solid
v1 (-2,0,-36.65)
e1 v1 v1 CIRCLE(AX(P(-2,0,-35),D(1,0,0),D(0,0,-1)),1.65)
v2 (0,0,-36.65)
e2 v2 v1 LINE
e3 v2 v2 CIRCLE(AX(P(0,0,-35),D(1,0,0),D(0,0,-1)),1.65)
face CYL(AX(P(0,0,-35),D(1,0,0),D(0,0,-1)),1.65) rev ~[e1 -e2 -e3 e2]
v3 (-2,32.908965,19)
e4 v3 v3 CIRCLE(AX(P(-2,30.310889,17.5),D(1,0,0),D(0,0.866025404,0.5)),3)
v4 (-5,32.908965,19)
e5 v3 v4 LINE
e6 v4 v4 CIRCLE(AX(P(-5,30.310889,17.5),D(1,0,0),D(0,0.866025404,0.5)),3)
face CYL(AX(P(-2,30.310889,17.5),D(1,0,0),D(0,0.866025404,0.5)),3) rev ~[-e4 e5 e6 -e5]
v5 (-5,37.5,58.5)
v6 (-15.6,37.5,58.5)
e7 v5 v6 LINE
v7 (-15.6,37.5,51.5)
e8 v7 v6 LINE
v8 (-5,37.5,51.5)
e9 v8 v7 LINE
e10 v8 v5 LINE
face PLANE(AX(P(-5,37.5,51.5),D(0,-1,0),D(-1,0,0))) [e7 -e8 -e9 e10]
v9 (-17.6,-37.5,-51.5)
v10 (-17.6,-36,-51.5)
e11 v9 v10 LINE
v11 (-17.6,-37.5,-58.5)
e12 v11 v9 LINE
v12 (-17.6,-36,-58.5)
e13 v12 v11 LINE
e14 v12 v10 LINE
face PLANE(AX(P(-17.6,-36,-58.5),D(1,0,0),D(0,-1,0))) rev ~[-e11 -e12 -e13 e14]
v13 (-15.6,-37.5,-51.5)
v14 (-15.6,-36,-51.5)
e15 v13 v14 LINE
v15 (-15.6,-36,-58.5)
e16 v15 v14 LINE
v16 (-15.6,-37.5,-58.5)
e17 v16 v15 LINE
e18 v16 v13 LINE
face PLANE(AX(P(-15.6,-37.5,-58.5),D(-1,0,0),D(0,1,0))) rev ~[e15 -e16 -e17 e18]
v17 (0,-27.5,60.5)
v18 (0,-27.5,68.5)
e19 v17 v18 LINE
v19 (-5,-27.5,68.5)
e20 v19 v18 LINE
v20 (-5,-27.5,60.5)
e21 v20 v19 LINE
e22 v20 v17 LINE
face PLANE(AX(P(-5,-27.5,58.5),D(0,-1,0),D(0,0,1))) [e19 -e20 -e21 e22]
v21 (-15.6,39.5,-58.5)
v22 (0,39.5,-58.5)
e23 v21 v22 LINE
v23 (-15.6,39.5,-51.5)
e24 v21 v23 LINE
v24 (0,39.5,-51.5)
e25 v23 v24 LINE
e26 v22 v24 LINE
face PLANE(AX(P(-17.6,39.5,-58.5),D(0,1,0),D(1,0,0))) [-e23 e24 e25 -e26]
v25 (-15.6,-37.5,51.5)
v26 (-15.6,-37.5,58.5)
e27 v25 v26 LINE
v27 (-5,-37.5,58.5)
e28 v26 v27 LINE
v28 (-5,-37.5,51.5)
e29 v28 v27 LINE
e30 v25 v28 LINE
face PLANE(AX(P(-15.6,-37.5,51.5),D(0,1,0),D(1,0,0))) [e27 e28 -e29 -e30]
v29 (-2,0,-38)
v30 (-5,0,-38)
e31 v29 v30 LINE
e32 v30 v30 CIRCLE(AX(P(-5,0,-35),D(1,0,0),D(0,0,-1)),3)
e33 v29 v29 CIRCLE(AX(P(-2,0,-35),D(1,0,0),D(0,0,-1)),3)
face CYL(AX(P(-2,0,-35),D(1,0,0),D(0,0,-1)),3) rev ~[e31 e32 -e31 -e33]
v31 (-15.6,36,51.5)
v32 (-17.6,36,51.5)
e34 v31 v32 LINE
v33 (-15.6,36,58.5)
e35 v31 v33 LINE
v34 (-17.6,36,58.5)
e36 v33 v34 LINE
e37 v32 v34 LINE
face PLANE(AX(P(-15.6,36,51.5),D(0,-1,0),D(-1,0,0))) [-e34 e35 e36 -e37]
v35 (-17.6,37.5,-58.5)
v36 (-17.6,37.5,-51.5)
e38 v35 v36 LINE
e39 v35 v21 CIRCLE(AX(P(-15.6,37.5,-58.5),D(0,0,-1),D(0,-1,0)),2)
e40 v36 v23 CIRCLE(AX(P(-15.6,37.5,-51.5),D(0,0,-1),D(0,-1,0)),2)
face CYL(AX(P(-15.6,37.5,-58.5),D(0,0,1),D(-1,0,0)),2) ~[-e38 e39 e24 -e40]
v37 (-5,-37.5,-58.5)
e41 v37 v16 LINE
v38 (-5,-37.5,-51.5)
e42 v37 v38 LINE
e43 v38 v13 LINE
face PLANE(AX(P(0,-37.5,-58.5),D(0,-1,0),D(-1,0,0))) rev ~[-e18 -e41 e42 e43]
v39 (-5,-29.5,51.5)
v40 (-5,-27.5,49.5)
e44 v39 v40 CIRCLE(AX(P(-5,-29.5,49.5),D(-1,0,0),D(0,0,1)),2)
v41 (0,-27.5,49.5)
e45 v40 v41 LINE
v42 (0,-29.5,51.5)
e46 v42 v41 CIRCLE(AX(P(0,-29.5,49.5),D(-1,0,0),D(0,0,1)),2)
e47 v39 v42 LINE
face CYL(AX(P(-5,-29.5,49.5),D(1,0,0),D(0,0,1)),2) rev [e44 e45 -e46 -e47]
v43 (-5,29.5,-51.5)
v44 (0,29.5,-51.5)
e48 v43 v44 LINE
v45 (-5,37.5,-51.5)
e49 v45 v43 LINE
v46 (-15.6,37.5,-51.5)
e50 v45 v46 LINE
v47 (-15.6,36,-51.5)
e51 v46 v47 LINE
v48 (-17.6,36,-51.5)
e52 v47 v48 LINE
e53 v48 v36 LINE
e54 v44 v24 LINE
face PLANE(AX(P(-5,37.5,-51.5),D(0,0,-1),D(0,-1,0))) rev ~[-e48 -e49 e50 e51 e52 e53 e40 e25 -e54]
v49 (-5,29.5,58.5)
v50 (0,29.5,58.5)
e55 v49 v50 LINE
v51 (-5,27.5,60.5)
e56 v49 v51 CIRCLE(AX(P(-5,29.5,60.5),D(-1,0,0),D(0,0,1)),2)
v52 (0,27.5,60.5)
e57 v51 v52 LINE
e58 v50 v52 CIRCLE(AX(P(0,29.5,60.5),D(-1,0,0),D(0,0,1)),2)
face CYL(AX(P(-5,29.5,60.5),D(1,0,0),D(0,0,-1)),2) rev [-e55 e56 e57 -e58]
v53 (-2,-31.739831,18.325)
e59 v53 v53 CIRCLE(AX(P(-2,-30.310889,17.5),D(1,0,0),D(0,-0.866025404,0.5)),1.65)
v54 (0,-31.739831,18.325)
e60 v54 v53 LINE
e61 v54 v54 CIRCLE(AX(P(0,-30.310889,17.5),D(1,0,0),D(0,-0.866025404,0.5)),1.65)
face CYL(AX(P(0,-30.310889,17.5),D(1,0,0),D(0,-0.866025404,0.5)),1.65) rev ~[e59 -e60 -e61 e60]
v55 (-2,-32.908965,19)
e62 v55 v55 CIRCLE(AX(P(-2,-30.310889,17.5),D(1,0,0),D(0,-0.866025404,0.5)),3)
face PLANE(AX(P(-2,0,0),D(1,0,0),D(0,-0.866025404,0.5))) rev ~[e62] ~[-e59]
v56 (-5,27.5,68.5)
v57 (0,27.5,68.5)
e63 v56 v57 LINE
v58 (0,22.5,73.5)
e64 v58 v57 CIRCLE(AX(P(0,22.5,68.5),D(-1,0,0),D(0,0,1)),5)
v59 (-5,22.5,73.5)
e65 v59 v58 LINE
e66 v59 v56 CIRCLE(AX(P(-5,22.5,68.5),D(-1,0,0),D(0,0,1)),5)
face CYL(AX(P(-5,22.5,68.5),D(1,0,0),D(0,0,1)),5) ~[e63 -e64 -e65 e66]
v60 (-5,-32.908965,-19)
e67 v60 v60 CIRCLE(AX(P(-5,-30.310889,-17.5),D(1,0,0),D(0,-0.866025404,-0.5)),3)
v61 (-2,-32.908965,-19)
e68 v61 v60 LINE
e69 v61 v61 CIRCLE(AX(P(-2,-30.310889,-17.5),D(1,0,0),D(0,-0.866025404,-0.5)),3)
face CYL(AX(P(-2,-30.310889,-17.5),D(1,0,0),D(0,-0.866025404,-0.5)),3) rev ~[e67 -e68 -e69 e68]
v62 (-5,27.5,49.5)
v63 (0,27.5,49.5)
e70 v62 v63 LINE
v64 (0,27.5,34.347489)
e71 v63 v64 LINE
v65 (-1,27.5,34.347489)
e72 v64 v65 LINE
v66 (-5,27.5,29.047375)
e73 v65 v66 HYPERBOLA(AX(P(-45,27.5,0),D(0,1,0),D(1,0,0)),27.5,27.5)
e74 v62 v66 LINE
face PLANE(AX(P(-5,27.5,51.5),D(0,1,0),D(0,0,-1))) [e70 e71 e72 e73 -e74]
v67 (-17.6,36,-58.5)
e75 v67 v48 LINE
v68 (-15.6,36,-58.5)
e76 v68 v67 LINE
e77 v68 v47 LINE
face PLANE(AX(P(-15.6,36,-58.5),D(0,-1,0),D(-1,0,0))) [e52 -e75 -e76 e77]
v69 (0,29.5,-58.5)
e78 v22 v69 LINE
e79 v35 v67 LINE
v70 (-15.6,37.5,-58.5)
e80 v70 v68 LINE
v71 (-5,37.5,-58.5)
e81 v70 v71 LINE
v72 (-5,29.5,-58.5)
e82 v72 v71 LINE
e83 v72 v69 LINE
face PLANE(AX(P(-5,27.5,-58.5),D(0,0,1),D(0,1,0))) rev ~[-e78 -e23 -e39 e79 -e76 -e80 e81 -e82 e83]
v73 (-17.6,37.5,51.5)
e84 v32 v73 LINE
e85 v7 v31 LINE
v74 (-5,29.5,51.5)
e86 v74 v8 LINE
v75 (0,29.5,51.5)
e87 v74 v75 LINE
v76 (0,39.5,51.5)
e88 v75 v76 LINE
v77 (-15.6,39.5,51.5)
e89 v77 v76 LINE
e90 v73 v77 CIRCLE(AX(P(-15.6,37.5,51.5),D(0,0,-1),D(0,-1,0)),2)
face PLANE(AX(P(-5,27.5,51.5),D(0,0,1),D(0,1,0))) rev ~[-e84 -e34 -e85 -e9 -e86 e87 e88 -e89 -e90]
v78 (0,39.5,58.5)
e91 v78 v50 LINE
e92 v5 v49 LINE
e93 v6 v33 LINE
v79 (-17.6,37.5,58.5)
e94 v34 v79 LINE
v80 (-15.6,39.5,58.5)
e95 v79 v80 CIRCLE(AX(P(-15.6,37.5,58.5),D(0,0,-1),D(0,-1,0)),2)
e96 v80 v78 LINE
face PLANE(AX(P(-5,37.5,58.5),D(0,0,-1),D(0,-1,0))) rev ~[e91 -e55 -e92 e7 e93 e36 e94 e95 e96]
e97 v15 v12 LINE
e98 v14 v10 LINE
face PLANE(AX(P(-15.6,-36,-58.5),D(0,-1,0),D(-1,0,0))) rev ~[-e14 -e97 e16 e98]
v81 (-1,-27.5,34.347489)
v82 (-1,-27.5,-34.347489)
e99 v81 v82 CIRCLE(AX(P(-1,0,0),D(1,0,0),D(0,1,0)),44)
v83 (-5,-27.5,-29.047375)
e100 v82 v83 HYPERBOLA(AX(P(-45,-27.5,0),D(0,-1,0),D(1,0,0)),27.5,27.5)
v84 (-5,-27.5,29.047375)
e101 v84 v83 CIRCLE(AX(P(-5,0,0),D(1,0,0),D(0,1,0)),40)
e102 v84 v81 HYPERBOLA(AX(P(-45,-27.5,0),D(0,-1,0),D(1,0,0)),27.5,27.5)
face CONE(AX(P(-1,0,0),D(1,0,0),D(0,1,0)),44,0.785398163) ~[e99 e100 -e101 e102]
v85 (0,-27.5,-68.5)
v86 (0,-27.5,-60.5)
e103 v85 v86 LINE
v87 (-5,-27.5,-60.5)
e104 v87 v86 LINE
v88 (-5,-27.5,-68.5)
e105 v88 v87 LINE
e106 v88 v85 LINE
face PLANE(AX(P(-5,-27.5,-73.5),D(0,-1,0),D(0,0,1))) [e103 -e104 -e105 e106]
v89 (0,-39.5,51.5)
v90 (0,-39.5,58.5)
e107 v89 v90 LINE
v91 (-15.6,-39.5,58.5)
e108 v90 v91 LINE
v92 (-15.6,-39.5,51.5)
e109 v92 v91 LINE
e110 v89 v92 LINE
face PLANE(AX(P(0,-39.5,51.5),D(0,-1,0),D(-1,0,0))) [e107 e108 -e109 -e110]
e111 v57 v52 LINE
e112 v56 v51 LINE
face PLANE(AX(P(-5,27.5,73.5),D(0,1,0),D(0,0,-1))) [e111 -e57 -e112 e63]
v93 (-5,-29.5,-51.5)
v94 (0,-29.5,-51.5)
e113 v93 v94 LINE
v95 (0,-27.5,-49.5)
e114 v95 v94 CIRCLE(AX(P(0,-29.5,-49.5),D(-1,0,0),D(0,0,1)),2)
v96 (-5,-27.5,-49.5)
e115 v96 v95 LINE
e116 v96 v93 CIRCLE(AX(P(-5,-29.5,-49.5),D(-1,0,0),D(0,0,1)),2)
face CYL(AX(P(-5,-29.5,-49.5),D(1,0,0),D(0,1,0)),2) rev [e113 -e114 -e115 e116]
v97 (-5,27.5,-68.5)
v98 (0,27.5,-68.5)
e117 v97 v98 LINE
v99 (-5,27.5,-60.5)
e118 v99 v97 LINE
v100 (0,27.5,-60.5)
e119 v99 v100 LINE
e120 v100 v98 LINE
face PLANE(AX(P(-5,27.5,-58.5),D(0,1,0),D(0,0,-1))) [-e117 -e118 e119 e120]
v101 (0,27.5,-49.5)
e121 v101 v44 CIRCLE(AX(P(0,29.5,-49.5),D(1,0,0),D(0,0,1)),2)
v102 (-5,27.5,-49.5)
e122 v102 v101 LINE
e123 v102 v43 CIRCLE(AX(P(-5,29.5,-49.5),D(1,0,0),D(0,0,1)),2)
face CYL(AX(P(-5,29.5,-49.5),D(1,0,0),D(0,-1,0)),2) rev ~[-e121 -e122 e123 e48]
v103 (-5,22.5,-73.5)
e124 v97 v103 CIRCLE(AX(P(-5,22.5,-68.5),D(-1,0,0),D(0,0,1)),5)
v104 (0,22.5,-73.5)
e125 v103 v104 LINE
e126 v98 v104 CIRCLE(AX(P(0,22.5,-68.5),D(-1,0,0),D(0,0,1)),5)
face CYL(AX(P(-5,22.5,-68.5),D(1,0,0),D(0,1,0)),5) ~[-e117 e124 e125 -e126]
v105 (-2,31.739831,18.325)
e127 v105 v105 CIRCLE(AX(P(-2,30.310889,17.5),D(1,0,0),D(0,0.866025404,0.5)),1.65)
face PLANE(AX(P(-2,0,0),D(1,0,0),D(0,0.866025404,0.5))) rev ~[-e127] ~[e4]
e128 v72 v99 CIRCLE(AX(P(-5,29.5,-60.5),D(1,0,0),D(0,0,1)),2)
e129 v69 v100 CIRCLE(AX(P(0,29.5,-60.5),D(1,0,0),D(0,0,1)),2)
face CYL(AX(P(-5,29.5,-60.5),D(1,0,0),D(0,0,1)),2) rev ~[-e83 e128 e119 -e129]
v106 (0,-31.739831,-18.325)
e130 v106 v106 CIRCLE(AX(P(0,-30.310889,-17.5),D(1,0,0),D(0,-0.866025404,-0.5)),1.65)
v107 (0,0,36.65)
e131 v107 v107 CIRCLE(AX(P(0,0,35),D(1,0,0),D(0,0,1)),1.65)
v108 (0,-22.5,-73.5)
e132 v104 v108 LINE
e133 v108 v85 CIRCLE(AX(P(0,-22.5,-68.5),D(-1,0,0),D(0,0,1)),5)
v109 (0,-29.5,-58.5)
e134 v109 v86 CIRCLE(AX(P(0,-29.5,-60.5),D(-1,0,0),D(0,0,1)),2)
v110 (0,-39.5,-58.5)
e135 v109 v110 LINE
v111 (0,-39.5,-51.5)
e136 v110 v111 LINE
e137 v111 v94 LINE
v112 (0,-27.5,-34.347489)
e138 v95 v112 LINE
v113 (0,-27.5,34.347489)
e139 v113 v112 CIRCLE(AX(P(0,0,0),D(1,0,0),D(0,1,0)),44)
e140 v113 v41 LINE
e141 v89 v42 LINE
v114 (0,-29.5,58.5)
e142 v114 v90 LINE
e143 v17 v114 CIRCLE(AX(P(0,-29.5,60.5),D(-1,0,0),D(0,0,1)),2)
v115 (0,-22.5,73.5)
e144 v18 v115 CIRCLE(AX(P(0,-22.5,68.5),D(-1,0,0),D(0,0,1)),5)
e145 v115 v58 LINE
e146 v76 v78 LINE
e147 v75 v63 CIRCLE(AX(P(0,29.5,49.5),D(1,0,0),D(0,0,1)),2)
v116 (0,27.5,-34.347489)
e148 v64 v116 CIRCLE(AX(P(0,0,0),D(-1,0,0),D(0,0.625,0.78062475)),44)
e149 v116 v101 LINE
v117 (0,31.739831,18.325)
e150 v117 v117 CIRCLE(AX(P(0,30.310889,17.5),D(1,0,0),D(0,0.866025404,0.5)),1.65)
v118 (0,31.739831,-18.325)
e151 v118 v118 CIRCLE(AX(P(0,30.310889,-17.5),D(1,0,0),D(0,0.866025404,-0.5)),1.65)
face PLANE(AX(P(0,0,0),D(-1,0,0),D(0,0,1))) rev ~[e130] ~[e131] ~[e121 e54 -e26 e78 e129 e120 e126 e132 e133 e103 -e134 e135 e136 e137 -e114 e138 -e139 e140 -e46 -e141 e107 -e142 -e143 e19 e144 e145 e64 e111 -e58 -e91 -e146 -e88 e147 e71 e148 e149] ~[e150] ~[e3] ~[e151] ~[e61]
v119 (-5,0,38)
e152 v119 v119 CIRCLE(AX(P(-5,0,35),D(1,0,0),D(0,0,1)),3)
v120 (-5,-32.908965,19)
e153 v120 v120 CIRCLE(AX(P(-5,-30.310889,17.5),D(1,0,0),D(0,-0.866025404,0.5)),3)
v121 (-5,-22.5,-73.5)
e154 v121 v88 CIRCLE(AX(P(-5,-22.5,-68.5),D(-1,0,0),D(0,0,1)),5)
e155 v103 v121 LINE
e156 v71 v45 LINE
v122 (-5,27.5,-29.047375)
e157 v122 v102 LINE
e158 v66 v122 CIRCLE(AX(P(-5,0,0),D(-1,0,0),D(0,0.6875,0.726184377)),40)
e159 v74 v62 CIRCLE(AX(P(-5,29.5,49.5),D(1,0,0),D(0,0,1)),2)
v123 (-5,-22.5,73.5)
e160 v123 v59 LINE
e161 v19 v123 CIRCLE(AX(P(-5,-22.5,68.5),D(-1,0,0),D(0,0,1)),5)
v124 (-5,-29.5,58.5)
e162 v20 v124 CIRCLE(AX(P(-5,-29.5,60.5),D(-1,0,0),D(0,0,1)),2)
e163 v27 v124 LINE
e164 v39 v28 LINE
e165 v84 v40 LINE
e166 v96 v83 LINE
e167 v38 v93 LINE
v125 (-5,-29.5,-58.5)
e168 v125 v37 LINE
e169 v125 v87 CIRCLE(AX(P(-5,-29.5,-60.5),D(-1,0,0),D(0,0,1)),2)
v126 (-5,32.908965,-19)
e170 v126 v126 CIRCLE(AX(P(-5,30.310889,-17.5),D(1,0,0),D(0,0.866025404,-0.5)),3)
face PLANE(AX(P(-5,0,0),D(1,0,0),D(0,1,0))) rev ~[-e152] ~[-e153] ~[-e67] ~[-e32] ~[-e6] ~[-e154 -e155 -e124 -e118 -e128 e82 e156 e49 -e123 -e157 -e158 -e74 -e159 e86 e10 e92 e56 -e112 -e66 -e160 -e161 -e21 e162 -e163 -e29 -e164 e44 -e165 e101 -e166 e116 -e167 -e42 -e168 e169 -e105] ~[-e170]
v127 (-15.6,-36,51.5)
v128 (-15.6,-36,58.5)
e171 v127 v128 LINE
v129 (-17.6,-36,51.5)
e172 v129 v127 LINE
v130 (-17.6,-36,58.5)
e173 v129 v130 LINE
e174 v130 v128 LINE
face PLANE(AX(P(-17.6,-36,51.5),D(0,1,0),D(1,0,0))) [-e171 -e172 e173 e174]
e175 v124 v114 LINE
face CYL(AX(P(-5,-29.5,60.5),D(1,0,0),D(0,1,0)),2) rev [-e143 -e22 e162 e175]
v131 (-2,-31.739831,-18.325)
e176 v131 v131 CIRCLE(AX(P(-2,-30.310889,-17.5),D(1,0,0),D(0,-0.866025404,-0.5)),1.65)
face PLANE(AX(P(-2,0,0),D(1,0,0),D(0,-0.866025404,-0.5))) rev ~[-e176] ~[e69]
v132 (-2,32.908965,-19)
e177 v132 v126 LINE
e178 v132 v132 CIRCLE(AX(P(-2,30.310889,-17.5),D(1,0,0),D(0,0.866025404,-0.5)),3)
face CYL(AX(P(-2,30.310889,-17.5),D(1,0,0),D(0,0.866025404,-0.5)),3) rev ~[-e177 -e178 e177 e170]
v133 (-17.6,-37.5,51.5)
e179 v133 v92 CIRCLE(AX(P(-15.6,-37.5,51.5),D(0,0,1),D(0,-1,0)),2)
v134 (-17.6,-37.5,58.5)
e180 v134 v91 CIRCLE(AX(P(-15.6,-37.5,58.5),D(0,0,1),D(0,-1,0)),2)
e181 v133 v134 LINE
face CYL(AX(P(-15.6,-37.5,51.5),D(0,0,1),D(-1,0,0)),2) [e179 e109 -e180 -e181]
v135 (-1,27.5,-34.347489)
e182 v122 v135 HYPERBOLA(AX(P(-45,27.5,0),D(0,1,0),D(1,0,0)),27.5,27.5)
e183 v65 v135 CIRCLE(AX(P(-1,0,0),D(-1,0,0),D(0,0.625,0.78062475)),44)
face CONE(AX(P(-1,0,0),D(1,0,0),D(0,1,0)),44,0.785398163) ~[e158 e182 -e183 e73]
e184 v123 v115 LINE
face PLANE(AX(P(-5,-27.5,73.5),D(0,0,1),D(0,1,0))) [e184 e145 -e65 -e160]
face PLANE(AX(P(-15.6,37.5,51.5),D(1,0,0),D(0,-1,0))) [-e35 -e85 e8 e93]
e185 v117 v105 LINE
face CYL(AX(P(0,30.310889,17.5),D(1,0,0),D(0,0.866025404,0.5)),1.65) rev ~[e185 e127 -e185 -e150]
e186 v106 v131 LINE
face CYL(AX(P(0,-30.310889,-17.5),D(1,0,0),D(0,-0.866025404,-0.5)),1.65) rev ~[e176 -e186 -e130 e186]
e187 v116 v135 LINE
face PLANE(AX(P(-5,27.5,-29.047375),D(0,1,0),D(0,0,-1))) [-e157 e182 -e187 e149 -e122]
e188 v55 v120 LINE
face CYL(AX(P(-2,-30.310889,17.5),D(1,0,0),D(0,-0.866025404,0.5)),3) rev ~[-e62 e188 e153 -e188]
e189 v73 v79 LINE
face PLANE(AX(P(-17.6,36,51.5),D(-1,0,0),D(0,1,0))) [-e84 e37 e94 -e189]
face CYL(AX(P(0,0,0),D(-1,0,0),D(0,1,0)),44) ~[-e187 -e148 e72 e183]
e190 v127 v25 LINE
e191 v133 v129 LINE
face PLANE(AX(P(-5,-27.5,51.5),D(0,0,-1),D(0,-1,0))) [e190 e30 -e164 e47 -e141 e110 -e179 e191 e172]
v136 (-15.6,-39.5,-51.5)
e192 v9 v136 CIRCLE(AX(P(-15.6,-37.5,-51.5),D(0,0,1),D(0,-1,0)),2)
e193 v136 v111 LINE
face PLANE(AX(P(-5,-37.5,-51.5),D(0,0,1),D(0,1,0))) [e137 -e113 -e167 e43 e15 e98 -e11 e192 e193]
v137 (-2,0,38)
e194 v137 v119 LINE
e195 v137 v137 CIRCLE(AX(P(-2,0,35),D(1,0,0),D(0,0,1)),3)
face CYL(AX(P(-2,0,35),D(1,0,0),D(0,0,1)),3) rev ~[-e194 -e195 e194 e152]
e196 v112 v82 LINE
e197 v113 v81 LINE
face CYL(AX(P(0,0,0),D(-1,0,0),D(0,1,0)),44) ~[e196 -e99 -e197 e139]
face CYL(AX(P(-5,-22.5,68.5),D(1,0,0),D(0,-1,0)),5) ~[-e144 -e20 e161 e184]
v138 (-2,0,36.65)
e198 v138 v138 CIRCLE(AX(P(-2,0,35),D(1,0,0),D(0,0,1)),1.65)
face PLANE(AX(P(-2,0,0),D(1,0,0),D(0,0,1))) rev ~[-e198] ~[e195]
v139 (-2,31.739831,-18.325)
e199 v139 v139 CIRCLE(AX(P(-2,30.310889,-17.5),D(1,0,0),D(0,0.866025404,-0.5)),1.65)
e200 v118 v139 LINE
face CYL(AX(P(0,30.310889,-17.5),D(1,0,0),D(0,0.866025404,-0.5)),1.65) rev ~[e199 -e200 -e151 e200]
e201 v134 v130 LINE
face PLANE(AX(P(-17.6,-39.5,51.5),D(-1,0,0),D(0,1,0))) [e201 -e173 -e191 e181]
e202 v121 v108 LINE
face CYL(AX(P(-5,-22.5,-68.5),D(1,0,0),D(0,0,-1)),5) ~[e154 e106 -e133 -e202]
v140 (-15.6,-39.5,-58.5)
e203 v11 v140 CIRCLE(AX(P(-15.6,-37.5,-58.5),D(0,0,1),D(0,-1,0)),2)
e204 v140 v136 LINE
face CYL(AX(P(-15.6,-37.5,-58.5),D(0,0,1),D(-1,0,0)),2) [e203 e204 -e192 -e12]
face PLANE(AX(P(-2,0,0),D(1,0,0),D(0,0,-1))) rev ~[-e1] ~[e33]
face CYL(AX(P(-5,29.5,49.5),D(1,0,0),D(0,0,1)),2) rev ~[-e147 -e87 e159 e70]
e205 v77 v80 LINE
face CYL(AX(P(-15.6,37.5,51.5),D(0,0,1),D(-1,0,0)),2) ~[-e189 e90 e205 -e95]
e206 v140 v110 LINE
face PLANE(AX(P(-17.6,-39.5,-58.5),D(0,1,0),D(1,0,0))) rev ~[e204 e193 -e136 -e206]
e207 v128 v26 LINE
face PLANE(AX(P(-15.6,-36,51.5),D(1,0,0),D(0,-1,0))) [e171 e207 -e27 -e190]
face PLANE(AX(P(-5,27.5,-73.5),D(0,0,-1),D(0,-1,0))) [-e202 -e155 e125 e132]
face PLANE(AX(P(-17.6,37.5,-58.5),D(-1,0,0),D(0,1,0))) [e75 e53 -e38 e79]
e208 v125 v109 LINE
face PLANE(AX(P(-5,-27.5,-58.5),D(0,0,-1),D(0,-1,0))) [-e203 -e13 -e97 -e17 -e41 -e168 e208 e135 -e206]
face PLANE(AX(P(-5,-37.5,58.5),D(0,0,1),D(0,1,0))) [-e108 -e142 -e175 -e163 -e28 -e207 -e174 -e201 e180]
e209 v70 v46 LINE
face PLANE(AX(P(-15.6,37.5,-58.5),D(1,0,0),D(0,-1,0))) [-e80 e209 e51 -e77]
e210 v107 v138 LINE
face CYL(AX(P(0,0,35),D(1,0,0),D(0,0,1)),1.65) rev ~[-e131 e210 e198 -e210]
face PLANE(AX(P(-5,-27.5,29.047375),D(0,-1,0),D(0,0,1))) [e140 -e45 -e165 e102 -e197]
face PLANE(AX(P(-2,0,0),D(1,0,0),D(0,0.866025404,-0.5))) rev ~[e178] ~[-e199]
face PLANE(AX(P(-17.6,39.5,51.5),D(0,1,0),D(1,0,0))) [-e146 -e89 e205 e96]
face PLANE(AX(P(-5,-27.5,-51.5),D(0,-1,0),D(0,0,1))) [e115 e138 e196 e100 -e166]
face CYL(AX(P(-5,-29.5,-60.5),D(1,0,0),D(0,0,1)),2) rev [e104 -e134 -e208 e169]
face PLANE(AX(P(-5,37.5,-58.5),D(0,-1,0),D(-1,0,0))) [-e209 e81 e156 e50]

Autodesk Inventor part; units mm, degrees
ref_plane "YZ Plane" through (0, 0, 0) normal (1, 0, 0) x (0, 1, 0)
ref_plane "XZ Plane" through (0, 0, 0) normal (0, 1, 0) x (-1, 0, 0)
sketch "Sketch1" plane through (0, 0, 0) normal (0, 0, 1) x (1, 0, 0)
  line L0 (0, 0) -> (0, 44)
  line L1 (-5, 0) -> (0, 0)
  line L2 (0, 44) -> (-1, 44)
  line L3 (-1, 44) -> (-5, 40)
  line L4 (-5, 40) -> (-5, 0)
  dimension "d0" = 44
  dimension "d3" = 1
  dimension "d19" = 5
  dimension "d20" = 45
revolve "Revolution1" add sketch "Sketch1" angle 360 about axis through (-5, 0, 0) along (1, 0, 0)
sketch "Sketch2" plane through (0, 0, 0) normal (1, 0, 0) x (0, 0, -1)
  line L0 (0, 0) -> (35, 0) construction
  circle A0 centre (35, 0) radius 1.65
  dimension "d7" = 3.3
  dimension "d8" = 35
extrude "Extrusion1" cut sketch "Sketch2" against normal through all
ref_plane "Work Plane1" through (-2, 0, 0) normal (1, 0, 0) x (0, 0, -1)
sketch "Sketch3" plane through (-2, 0, 0) normal (1, 0, 0) x (0, 0, -1)
  circle A0 centre (35, 0) radius 3
  circle A1 centre (35, 0) radius 1.65 projected
  point P0 (0, 0)
  dimension "d12" = 6
extrude "Extrusion2" cut sketch "Sketch3" against normal through all contours A0 | A1
pattern_circular "Circular Pattern1" count 6 over 360 about axis through (-0.5, 0, 0) along (1, 0, 0) of "Extrusion2", "Extrusion1"
sketch "Sketch4" plane through (-5, 0, 0) normal (-1, 0, 0) x (0, 0, 1)
  line L0 (73.5, 27.5) -> (-73.5, 27.5)
  line L1 (-73.5, 27.5) -> (-73.5, -27.5)
  line L2 (-73.5, -27.5) -> (73.5, -27.5)
  line L3 (73.5, -27.5) -> (73.5, 27.5)
  line L4 (73.5, 27.5) -> (-73.5, -27.5) construction
  line L5 (-73.5, 27.5) -> (73.5, -27.5) construction
  line L6 (58.5, -27.5) -> (51.5, -27.5)
  line L7 (51.5, -27.5) -> (51.5, -37.5)
  line L8 (51.5, -37.5) -> (58.5, -37.5)
  line L9 (58.5, -37.5) -> (58.5, -27.5)
  line L10 (-51.5, -27.5) -> (-58.5, -27.5)
  line L11 (-58.5, -27.5) -> (-58.5, -37.5)
  line L12 (-58.5, -37.5) -> (-51.5, -37.5)
  line L13 (-51.5, -37.5) -> (-51.5, -27.5)
  line L14 (-51.5, 27.5) -> (-58.5, 27.5)
  line L15 (-58.5, 27.5) -> (-58.5, 37.5)
  line L16 (-58.5, 37.5) -> (-51.5, 37.5)
  line L17 (-51.5, 37.5) -> (-51.5, 27.5)
  line L18 (58.5, 27.5) -> (51.5, 27.5)
  line L19 (51.5, 27.5) -> (51.5, 37.5)
  line L20 (51.5, 37.5) -> (58.5, 37.5)
  line L21 (58.5, 37.5) -> (58.5, 27.5)
  circle A0 centre (0, 0) radius 40 projected
  point P0 (-29.0474, -27.5)
  point P1 (-29.0474, 27.5)
  point P2 (29.0474, 27.5)
  point P3 (29.0474, -27.5)
  dimension "d21" = 147
  dimension "d22" = 55
  dimension "d23" = 15
  dimension "d24" = 7
  dimension "d26" = 15
  dimension "d29" = 75
extrude "Extrusion3" add sketch "Sketch4" against normal up to surface (5 mm away) contours L3 L2 A0 L0 | L0 L19 L20 L21 | L9 L8 L7 L2 | A0 L2 L1 L0 | L0 L15 L16 L17 | L13 L12 L11 L2
sketch "Sketch5" plane through (-5, 27.5, -58.5) normal (0, 0, -1) x (-1, 0, 0)
  line L0 (-5, -65) -> (10.6, -65)
  line L1 (12.6, -65) -> (12.6, -67)
  line L2 (12.6, -67) -> (-5, -67)
  line L3 (-5, -67) -> (-5, -65)
  line L4 (-5, 10) -> (10.6, 10)
  line L5 (12.6, 10) -> (12.6, 12)
  line L6 (12.6, 12) -> (-5, 12)
  line L7 (-5, 12) -> (-5, 10)
  line L8 (10.6, 10) -> (10.6, 8.5)
  line L9 (10.6, 8.5) -> (12.6, 8.5)
  line L10 (12.6, 8.5) -> (12.6, 10)
  line L11 (10.6, -65) -> (10.6, -63.5)
  line L12 (10.6, -63.5) -> (12.6, -63.5)
  line L13 (12.6, -63.5) -> (12.6, -65)
  line L14 (0, 10) -> (0, 0) projected
  point P0 (-5, -27.5)
  dimension "d30" = 2
  dimension "d31" = 10.6
  dimension "d32" = 2
  dimension "d33" = 1.5
extrude "Extrusion4" add sketch "Sketch5" against normal up to surface (7 mm away)
sketch "Sketch6" plane through (-5, -37.5, 51.5) normal (0, 0, -1) x (-1, 0, 0)
  line L0 (-5, 77) -> (-5, 65) projected
  line L1 (0, 65) -> (-5, 65) projected
  line L2 (0, 75) -> (0, 65) projected
  line L3 (0, 75) -> (10.6, 75) projected
  line L4 (10.6, 75) -> (10.6, 73.5) projected
  line L5 (10.6, 73.5) -> (12.6, 73.5) projected
  line L6 (12.6, 73.5) -> (12.6, 77) projected
  line L7 (12.6, 77) -> (-5, 77) projected
  line L8 (-5, 10) -> (-5, -2) projected
  line L9 (-5, -2) -> (12.6, -2) projected
  line L10 (12.6, -2) -> (12.6, 1.5) projected
  line L11 (12.6, 1.5) -> (10.6, 1.5) projected
  line L12 (10.6, 1.5) -> (10.6, 0) projected
  line L13 (10.6, 0) -> (0, 0) projected
  line L14 (0, 10) -> (0, 0) projected
  line L15 (0, 10) -> (-5, 10) projected
  point P0 (-5, 37.5)
extrude "Extrusion5" add sketch "Sketch6" against normal up to surface (7 mm away)
fillet "Fillet1" radius 5 4 edges at (-2.5, -27.5, -73.5) (-2.5, 27.5, -73.5) (-2.5, -27.5, 73.5) (-2.5, 27.5, 73.5)
fillet "Fillet2" radius 2 4 edges at (-17.6, 39.5, 55) (-17.6, 39.5, -55) (-17.6, -39.5, 55) (-17.6, -39.5, -55)
fillet "Fillet3" radius 2 8 edges at (-2.5, 27.5, -58.5) (-2.5, 27.5, 51.5) (-2.5, -27.5, 51.5) (-2.5, -27.5, -58.5) (-2.5, -27.5, -51.5) (-2.5, -27.5, 58.5) (-2.5, 27.5, 58.5) (-2.5, 27.5, -51.5)
properties part number "PhoneHOldER"
